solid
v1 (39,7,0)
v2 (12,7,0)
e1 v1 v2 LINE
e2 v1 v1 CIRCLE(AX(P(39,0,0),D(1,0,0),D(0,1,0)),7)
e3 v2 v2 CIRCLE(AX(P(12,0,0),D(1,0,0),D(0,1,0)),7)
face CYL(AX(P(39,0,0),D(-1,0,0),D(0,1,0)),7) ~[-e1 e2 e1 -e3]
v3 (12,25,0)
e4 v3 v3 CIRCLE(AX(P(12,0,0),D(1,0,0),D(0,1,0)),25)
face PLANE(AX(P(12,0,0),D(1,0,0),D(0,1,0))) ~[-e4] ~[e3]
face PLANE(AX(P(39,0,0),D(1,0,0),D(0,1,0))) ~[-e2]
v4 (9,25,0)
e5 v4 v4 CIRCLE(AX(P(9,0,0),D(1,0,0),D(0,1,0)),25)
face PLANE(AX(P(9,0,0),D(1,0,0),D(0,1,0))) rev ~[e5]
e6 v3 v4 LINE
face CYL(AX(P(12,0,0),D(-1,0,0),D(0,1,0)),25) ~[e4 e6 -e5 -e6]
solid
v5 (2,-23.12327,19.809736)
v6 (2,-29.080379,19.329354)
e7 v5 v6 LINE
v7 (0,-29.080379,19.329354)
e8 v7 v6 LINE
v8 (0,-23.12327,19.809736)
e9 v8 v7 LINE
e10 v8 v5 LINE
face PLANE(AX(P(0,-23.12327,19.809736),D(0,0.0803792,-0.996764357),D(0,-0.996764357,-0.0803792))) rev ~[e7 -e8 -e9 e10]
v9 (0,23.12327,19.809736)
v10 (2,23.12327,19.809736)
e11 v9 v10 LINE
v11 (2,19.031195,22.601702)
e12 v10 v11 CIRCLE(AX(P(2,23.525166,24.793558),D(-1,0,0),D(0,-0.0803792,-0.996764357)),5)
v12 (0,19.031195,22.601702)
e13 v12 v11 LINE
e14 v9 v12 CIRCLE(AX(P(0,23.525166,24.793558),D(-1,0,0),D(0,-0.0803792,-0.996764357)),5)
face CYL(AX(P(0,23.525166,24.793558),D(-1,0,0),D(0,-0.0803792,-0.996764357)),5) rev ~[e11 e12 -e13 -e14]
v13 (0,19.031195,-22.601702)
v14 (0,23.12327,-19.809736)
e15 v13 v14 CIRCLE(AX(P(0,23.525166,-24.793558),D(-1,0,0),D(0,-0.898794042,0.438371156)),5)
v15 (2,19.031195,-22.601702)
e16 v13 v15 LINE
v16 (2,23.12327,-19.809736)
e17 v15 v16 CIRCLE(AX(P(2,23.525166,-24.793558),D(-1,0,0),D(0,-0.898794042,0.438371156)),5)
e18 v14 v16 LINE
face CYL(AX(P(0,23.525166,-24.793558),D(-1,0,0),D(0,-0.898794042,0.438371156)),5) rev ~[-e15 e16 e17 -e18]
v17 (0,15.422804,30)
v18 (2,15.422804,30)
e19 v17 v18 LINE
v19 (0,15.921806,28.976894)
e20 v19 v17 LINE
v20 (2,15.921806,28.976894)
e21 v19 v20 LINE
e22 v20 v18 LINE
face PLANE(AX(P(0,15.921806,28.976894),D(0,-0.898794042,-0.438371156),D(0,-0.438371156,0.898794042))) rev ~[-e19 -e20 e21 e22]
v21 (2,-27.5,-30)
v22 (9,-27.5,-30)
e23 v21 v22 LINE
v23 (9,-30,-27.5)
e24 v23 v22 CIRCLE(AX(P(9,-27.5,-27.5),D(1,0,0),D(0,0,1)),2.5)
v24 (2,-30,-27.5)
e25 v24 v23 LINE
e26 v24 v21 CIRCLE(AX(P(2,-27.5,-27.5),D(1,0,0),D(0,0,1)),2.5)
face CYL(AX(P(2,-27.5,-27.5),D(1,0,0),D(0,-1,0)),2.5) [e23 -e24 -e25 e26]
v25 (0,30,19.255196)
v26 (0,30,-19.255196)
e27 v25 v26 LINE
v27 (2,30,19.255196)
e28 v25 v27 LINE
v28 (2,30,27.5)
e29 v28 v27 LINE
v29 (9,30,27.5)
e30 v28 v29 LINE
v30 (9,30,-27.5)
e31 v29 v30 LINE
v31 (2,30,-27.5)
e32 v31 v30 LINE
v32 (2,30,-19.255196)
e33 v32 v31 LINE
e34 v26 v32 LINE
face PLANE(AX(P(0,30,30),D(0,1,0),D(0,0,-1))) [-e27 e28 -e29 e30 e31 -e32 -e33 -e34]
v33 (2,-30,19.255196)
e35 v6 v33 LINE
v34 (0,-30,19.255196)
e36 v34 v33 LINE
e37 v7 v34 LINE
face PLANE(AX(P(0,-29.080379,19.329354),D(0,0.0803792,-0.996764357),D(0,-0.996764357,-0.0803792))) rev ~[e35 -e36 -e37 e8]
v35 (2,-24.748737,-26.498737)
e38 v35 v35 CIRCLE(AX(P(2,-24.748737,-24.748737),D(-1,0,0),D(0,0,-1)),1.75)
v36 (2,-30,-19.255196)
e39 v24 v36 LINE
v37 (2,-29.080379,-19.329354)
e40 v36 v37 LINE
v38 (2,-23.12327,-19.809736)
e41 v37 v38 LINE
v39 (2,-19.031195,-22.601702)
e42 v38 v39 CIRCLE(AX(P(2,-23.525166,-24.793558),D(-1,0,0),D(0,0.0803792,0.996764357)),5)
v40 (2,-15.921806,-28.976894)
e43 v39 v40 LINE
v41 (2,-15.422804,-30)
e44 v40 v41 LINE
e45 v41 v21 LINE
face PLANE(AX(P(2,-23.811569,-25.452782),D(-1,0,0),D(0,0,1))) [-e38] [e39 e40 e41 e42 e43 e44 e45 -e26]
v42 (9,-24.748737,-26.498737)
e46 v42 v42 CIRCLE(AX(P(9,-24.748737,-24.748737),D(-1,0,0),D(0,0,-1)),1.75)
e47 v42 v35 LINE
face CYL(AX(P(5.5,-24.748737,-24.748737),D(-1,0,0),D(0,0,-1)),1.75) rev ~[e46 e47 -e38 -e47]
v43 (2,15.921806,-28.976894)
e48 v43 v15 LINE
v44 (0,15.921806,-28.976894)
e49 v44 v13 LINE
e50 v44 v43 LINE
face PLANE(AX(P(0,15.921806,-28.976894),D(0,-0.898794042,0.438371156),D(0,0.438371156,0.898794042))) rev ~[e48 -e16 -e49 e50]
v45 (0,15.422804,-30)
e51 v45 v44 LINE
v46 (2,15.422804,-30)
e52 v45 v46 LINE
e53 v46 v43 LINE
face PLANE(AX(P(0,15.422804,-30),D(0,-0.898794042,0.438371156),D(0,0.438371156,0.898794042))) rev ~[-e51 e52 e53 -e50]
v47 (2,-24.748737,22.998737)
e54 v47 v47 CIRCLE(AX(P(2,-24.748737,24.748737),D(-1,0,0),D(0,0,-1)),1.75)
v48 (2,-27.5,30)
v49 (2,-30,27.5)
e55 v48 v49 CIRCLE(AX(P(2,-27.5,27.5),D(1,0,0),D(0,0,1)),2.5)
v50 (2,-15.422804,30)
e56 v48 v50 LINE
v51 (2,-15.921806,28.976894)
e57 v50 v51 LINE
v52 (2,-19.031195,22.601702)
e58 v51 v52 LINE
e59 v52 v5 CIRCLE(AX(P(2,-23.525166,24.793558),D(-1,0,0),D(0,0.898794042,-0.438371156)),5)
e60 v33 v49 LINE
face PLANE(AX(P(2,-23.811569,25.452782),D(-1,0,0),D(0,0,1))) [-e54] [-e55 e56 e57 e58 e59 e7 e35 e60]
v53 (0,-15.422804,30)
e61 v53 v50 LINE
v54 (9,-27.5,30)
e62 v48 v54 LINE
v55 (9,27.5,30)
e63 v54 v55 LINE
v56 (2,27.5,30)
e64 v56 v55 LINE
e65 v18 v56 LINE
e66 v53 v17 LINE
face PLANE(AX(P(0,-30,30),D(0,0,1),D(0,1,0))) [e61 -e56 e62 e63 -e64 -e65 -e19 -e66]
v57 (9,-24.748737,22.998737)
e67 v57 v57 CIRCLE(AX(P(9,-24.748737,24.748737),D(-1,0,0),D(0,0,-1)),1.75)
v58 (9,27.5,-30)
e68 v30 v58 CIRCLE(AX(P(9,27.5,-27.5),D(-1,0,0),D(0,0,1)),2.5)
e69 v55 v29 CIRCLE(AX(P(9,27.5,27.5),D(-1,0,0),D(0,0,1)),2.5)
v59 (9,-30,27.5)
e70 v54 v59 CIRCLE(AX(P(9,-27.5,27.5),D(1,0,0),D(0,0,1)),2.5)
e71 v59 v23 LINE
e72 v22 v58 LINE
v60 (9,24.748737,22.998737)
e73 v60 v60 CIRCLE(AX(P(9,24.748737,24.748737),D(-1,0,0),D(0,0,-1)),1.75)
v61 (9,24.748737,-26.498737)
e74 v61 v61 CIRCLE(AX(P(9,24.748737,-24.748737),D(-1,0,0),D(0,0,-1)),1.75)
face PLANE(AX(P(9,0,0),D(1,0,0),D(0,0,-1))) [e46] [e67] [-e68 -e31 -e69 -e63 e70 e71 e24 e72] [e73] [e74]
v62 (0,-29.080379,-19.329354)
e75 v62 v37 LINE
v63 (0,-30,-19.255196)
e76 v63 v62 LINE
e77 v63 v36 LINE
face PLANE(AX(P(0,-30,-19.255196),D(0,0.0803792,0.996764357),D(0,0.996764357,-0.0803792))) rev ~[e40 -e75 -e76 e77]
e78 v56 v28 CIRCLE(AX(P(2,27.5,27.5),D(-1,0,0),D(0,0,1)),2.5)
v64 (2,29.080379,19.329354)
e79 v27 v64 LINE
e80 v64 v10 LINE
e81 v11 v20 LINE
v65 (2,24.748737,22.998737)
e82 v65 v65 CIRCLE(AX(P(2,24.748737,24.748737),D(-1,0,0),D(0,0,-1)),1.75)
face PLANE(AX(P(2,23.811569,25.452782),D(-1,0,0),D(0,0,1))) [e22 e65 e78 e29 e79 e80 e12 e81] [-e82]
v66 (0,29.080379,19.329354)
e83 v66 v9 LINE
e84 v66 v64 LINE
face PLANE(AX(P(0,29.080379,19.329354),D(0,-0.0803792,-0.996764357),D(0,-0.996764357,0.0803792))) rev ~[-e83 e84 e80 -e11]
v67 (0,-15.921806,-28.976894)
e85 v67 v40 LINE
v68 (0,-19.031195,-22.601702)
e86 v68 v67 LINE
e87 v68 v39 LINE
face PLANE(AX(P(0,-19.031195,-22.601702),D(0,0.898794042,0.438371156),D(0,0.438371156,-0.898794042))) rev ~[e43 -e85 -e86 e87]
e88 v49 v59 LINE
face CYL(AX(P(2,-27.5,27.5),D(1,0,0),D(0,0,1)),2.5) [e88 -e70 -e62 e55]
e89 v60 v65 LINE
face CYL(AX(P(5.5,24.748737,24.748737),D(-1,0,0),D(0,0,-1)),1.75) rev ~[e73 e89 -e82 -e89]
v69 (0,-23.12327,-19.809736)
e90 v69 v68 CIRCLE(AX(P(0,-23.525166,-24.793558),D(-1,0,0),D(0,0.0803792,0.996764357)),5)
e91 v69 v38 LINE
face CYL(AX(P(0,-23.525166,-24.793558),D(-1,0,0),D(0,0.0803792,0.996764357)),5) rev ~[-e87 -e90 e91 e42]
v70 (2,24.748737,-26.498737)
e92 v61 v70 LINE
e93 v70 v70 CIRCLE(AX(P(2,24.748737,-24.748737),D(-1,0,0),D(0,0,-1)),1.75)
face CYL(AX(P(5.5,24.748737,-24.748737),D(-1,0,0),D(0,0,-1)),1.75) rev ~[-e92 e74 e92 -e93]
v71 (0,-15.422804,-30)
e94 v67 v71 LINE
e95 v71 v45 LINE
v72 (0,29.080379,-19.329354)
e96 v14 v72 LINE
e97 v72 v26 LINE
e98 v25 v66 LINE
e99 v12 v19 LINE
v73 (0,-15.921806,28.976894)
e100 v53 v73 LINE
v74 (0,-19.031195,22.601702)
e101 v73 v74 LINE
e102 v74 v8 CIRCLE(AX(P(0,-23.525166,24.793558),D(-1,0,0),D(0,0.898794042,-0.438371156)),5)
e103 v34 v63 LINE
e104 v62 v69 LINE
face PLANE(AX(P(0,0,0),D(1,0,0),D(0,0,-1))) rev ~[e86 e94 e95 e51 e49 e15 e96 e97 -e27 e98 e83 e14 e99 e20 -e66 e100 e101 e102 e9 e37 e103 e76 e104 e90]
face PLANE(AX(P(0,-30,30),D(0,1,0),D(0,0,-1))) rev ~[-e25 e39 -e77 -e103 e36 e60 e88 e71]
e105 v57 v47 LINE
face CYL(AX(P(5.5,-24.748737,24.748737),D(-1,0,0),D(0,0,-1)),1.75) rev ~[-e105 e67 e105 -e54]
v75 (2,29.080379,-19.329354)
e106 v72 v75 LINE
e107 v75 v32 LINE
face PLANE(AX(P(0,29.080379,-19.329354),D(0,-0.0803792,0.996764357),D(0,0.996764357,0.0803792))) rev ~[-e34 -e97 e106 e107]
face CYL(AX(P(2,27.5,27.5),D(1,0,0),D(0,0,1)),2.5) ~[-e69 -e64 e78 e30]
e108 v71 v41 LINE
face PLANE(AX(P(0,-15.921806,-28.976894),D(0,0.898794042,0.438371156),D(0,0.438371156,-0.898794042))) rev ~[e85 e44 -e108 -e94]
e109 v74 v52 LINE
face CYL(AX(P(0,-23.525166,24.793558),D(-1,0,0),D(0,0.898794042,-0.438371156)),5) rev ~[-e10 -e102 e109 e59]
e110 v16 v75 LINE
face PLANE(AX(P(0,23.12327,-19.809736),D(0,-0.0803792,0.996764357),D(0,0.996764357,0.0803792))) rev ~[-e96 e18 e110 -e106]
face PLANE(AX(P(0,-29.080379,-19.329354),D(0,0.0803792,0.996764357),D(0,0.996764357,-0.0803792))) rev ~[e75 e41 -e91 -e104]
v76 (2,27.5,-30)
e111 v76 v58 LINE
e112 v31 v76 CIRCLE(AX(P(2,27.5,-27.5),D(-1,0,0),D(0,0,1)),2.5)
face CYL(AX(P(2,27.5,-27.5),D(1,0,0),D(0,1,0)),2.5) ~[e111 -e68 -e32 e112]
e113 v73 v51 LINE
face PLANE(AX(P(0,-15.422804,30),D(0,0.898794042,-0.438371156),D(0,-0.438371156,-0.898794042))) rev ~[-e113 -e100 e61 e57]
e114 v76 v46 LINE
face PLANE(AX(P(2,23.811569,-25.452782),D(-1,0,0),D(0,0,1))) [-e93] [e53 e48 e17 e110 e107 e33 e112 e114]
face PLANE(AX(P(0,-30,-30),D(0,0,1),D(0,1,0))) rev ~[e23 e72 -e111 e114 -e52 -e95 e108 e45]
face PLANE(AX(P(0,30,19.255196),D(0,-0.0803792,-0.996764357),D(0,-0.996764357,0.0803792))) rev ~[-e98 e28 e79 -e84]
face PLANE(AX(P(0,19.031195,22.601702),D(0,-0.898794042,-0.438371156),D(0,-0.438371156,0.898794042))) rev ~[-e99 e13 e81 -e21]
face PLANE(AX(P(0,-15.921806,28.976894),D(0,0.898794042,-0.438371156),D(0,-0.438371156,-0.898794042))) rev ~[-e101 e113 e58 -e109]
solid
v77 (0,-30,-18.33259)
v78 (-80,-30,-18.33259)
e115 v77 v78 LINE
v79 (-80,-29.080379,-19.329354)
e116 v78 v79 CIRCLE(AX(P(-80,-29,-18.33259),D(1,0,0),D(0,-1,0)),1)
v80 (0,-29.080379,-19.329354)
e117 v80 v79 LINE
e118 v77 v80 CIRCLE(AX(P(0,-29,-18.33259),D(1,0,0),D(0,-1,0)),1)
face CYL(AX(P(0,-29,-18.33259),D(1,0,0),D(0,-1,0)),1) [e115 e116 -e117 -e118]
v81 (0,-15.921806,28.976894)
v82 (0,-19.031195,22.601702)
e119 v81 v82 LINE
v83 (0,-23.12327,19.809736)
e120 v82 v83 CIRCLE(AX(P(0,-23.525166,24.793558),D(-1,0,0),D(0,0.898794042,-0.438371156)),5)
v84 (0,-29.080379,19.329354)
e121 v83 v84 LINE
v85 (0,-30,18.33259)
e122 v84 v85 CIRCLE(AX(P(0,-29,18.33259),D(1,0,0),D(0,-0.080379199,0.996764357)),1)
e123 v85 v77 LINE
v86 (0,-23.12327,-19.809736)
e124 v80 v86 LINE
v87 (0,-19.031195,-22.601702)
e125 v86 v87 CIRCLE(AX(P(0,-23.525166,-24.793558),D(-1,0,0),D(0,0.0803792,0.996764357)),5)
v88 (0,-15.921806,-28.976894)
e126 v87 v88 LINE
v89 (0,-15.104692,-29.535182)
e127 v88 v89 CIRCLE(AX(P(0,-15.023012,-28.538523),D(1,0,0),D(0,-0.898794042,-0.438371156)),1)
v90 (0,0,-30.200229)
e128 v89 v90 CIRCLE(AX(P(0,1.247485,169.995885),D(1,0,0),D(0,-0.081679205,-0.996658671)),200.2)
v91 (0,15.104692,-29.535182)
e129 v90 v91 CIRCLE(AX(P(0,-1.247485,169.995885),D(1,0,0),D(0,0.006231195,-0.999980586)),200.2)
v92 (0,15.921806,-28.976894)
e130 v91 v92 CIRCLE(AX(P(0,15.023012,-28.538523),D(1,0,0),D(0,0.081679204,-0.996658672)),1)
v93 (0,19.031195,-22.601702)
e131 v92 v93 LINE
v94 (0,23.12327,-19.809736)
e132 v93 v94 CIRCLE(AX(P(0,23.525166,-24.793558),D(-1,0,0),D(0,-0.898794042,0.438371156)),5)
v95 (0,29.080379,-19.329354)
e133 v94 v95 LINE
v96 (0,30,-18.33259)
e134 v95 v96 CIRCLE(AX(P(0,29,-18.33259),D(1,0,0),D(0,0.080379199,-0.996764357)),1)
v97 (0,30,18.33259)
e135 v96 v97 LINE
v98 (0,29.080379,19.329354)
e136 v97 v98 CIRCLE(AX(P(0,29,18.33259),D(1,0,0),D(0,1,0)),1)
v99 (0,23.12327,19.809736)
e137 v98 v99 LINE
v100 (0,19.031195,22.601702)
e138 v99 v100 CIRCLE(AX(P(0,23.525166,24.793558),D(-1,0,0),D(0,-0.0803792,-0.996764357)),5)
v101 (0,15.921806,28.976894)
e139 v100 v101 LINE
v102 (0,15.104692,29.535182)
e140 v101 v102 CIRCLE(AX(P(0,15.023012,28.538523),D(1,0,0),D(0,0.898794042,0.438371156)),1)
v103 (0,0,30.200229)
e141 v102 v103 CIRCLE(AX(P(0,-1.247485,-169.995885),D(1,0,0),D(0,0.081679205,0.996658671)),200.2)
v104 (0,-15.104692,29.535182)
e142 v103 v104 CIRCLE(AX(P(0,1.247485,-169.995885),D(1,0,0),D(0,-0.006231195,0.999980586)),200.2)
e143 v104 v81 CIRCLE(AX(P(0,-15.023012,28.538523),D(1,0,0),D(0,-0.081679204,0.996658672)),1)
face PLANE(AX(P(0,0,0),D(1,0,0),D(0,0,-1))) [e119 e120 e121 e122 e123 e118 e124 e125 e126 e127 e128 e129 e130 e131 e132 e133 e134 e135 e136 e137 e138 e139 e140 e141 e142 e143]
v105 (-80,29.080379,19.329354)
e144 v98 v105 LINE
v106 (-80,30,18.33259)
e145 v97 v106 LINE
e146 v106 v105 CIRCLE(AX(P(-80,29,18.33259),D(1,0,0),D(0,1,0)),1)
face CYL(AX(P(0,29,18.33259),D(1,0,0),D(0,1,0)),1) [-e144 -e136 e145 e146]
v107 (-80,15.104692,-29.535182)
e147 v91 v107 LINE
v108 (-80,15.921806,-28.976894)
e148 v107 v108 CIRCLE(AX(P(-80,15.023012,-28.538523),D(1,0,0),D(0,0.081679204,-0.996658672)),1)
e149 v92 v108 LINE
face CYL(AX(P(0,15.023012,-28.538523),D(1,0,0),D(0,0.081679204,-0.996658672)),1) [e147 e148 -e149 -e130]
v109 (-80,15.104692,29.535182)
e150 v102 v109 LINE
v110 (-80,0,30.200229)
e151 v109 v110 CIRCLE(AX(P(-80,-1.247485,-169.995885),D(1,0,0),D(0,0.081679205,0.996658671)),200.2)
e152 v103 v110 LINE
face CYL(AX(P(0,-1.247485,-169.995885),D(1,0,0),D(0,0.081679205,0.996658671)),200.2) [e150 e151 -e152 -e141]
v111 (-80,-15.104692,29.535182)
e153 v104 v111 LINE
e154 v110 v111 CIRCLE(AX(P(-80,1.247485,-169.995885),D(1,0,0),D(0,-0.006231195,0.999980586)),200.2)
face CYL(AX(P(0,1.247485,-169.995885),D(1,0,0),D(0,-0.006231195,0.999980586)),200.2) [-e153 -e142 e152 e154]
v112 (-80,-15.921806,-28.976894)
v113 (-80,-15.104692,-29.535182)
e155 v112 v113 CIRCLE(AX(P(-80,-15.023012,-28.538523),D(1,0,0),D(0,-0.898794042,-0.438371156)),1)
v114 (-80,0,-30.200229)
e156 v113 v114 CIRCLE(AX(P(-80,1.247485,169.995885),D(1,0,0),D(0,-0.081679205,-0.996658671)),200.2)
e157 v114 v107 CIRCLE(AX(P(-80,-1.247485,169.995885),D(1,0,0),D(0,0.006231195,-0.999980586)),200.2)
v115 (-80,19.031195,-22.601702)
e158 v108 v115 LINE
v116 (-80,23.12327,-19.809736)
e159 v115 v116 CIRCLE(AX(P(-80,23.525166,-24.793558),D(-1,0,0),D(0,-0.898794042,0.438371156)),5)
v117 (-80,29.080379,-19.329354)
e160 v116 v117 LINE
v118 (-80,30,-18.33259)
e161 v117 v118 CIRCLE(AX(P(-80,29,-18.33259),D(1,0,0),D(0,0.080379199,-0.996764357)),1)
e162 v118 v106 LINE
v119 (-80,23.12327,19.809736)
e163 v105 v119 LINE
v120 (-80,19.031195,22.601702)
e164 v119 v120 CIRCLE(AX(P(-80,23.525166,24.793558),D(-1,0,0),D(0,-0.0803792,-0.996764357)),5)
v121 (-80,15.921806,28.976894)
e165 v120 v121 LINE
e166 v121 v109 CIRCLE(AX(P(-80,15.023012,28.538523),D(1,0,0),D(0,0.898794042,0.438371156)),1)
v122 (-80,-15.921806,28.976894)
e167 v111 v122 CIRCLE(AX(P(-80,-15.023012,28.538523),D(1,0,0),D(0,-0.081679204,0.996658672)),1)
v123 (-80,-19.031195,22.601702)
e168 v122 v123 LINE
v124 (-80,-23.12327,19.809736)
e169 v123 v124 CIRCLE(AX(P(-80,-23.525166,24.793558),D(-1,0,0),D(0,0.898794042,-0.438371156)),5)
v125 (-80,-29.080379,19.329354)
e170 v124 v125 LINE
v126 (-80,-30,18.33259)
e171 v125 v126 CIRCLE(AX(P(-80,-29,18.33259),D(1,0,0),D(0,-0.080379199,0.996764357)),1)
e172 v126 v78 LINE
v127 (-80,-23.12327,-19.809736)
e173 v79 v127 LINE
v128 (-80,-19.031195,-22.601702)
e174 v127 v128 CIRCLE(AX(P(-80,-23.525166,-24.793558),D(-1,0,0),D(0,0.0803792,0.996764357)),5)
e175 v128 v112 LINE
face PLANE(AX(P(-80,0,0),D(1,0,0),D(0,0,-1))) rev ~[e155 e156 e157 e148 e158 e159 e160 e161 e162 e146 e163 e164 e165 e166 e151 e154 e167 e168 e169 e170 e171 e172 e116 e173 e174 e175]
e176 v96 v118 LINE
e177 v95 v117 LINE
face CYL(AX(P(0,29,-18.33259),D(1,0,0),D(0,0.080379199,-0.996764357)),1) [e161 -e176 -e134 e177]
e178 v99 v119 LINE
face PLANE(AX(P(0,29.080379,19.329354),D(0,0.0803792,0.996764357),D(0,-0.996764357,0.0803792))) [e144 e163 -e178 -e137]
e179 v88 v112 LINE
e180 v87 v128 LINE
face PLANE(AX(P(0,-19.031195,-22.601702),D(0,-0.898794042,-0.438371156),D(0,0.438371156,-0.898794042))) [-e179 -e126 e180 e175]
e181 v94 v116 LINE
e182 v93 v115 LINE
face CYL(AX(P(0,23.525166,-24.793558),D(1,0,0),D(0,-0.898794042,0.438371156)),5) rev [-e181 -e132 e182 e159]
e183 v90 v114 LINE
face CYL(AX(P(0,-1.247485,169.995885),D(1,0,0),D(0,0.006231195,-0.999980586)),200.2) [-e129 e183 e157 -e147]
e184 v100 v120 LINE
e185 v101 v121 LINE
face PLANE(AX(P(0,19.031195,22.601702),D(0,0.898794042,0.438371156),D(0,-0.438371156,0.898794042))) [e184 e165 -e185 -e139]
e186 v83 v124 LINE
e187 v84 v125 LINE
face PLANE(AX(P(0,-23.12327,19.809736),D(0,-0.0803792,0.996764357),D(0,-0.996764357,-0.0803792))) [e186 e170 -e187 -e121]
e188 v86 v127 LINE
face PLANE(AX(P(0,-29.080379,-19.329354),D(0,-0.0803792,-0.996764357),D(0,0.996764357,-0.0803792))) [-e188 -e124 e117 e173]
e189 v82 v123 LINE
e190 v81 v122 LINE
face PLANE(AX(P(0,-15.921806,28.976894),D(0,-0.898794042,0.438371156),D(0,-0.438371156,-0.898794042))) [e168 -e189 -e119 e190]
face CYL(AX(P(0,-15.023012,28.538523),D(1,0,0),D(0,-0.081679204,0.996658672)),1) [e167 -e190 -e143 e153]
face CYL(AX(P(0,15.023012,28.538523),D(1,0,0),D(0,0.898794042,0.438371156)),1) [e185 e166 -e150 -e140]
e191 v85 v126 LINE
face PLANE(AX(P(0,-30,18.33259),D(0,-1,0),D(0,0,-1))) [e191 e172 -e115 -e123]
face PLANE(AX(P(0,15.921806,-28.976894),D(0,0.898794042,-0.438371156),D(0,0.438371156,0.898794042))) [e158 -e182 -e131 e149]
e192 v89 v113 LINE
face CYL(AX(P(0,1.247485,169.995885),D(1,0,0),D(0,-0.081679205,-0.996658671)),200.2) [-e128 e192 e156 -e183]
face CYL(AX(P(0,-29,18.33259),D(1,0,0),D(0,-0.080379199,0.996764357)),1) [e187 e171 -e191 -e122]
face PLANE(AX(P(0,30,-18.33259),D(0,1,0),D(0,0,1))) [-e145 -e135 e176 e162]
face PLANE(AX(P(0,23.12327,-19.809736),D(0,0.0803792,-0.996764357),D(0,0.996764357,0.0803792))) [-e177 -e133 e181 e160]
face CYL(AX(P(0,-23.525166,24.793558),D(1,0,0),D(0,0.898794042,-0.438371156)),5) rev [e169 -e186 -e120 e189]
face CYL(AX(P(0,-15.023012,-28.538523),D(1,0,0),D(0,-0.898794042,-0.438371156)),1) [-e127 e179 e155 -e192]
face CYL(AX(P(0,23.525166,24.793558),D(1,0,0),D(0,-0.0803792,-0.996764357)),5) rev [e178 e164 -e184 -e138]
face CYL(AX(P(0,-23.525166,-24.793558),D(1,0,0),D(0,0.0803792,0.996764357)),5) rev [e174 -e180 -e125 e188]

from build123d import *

# Parameters (mm, degrees)
BOSS_EXTRUDE3_DEPTH                 = 80
SKETCH9_W                           = 60
SKETCH9_H                           = 60
BOSS_EXTRUDE4_DEPTH                 = 9
CUT_EXTRUDE1_DEPTH                  = 2
SKETCH10_W                          = 1.75
SKETCH10_H                          = 7
F_3_5_3_5_DIAMETER_HOLE1_AT_2_COUNT = 2
F_3_5_3_5_DIAMETER_HOLE1_AT_2_PITCH = 49.497474683
F_3_5_3_5_DIAMETER_HOLE1_AT_3_COUNT = 2
F_3_5_3_5_DIAMETER_HOLE1_AT_3_PITCH = 49.497474683
F_3_5_3_5_DIAMETER_HOLE1_AT_4_COUNT = 2
F_3_5_3_5_DIAMETER_HOLE1_AT_4_PITCH = 70
FILLET2_R                           = 2.5


with BuildPart() as part:
    # Sketch7 → Boss-Extrude3 (new body)
    with BuildSketch(Plane(origin=(0, 0, 0), x_dir=(0, 0, -1), z_dir=(1, 0, 0))):
        with BuildLine():
            Line((-18.33259, -30), (18.33259, -30))
            ThreePointArc((18.33259, -30), (19.010683209, -29.734975918), (19.329354357, -29.0803792))
            Line((19.329354357, -29.0803792), (19.809736411, -23.123269525))
            ThreePointArc((19.809736411, -23.123269525), (20.663321526, -20.707161793), (22.60170242, -19.031195315))
            Line((22.60170242, -19.031195315), (28.976894141, -15.921806476))
            ThreePointArc((28.976894141, -15.921806476), (29.364202593, -15.587151765), (29.535181656, -15.104691639))
            ThreePointArc((29.535181656, -15.104691639), (30.010346531, -7.558626197), (30.200228925, 0))
            ThreePointArc((30.200228925, 0), (30.010346531, 7.558626197), (29.535181656, 15.104691639))
            ThreePointArc((29.535181656, 15.104691639), (29.364202593, 15.587151765), (28.976894141, 15.921806476))
            Line((28.976894141, 15.921806476), (22.60170242, 19.031195315))
            ThreePointArc((22.60170242, 19.031195315), (20.663321526, 20.707161793), (19.809736411, 23.123269525))
            Line((19.809736411, 23.123269525), (19.329354357, 29.0803792))
            ThreePointArc((19.329354357, 29.0803792), (19.010683209, 29.734975918), (18.33259, 30))
            Line((18.33259, 30), (-18.33259, 30))
            ThreePointArc((-18.33259, 30), (-19.010683209, 29.734975918), (-19.329354357, 29.0803792))
            Line((-19.329354357, 29.0803792), (-19.809736411, 23.123269525))
            ThreePointArc((-19.809736411, 23.123269525), (-20.663321526, 20.707161793), (-22.60170242, 19.031195315))
            Line((-22.60170242, 19.031195315), (-28.976894141, 15.921806476))
            ThreePointArc((-28.976894141, 15.921806476), (-29.364202593, 15.587151765), (-29.535181656, 15.104691639))
            ThreePointArc((-29.535181656, 15.104691639), (-30.010346531, 7.558626197), (-30.200228925, 0))
            ThreePointArc((-30.200228925, 0), (-30.010346531, -7.558626197), (-29.535181656, -15.104691639))
            ThreePointArc((-29.535181656, -15.104691639), (-29.364202593, -15.587151765), (-28.976894141, -15.921806476))
            Line((-28.976894141, -15.921806476), (-22.60170242, -19.031195315))
            ThreePointArc((-22.60170242, -19.031195315), (-20.663321526, -20.707161793), (-19.809736411, -23.123269525))
            Line((-19.809736411, -23.123269525), (-19.329354357, -29.0803792))
            ThreePointArc((-19.329354357, -29.0803792), (-19.010683209, -29.734975918), (-18.33259, -30))
        make_face()
    extrude(amount=-BOSS_EXTRUDE3_DEPTH)


with BuildPart() as body_2:
    # Sketch9 → Boss-Extrude4 (new body)
    with BuildSketch(Plane(origin=(0, 0, 0), x_dir=(0, 0, -1), z_dir=(1, 0, 0))):
        Rectangle(SKETCH9_W, SKETCH9_H)
    extrude(amount=BOSS_EXTRUDE4_DEPTH)

    # Sketch12 → Cut-Extrude1 (cut)
    with BuildSketch(Plane.ZY):
        with BuildLine():
            Line((-28.976894141, 15.921806476), (-22.60170242, 19.031195315))
            ThreePointArc((-22.60170242, 19.031195315), (-20.663321526, 20.707161793), (-19.809736411, 23.123269525))
            Line((-19.809736411, 23.123269525), (-19.329354357, 29.0803792))
            Line((-19.329354357, 29.0803792), (-19.255196023, 30))
            Line((-19.255196023, 30), (-30, 30))
            Line((-30, 30), (-30, 15.422804394))
            Line((-30, 15.422804394), (-28.976894141, 15.921806476))
        make_face()
        with BuildLine():
            Line((19.329354357, 29.0803792), (19.809736411, 23.123269525))
            ThreePointArc((19.809736411, 23.123269525), (20.663321526, 20.707161793), (22.60170242, 19.031195315))
            Line((22.60170242, 19.031195315), (28.976894141, 15.921806476))
            Line((28.976894141, 15.921806476), (30, 15.422804394))
            Line((30, 15.422804394), (30, 30))
            Line((30, 30), (19.255196023, 30))
            Line((19.255196023, 30), (19.329354357, 29.0803792))
        make_face()
        with BuildLine():
            Line((-22.60170242, -19.031195315), (-28.976894141, -15.921806476))
            Line((-28.976894141, -15.921806476), (-30, -15.422804394))
            Line((-30, -15.422804394), (-30, -30))
            Line((-30, -30), (-19.255196023, -30))
            Line((-19.255196023, -30), (-19.329354357, -29.0803792))
            Line((-19.329354357, -29.0803792), (-19.809736411, -23.123269525))
            ThreePointArc((-19.809736411, -23.123269525), (-20.663321526, -20.707161793), (-22.60170242, -19.031195315))
        make_face()
        with BuildLine():
            Line((19.809736411, -23.123269525), (19.329354357, -29.0803792))
            Line((19.329354357, -29.0803792), (19.255196023, -30))
            Line((19.255196023, -30), (30, -30))
            Line((30, -30), (30, -15.422804394))
            Line((30, -15.422804394), (28.976894141, -15.921806476))
            Line((28.976894141, -15.921806476), (22.60170242, -19.031195315))
            ThreePointArc((22.60170242, -19.031195315), (20.663321526, -20.707161793), (19.809736411, -23.123269525))
        make_face()
    extrude(amount=-CUT_EXTRUDE1_DEPTH, mode=Mode.SUBTRACT)

    # Sketch10 → Ø3.5 (3.5) Diameter Hole1 (revolve, cut)
    with BuildSketch(Plane(origin=(9, 24.748737342, 24.748737342), x_dir=(0, 0, -1), z_dir=(0, 1, 0))):
        with Locations((0.875, 3.5)):
            Rectangle(SKETCH10_W, SKETCH10_H)
    f_3_5_3_5_diameter_hole1 = revolve(axis=Axis((15.35, 24.748737342, 24.748737342), (-1, 0, 0)), mode=Mode.SUBTRACT)

    # Ø3.5 (3.5) Diameter Hole1 at 2: Ø3.5 (3.5) Diameter Hole1 ×2
    with Locations(*[(0, 0, -i * F_3_5_3_5_DIAMETER_HOLE1_AT_2_PITCH) for i in range(1, F_3_5_3_5_DIAMETER_HOLE1_AT_2_COUNT)]):
        add(f_3_5_3_5_diameter_hole1, mode=Mode.SUBTRACT)

    # Ø3.5 (3.5) Diameter Hole1 at 3: Ø3.5 (3.5) Diameter Hole1 ×2
    with Locations(*[(0, -i * F_3_5_3_5_DIAMETER_HOLE1_AT_3_PITCH, 0) for i in range(1, F_3_5_3_5_DIAMETER_HOLE1_AT_3_COUNT)]):
        add(f_3_5_3_5_diameter_hole1, mode=Mode.SUBTRACT)

    # Ø3.5 (3.5) Diameter Hole1 at 4: Ø3.5 (3.5) Diameter Hole1 ×2
    with Locations(*[Vector(0, -0.707106781, -0.707106781) * (i * F_3_5_3_5_DIAMETER_HOLE1_AT_4_PITCH) for i in range(1, F_3_5_3_5_DIAMETER_HOLE1_AT_4_COUNT)]):
        add(f_3_5_3_5_diameter_hole1, mode=Mode.SUBTRACT)

    # Fillet2
    fillet2_edges = [body_2.edges().sort_by_distance(p)[0] for p in [
        (5.5, 30, 30),
        (5.5, 30, -30),
        (5.5, -30, -30),
        (5.5, -30, 30),
    ]]
    fillet(fillet2_edges, radius=FILLET2_R)


with BuildPart() as body_3:
    # Sketch8 → Revolve5 (revolve)
    with BuildSketch(Plane.XY):
        Polygon((39, 0), (39, 7), (12, 7), (12, 25), (9, 25), (9, 0), align=None)
    revolve(axis=Axis((-4.899761849, 0, 0), (1, 0, 0)))


solid = Compound([part.part, body_2.part, body_3.part])
